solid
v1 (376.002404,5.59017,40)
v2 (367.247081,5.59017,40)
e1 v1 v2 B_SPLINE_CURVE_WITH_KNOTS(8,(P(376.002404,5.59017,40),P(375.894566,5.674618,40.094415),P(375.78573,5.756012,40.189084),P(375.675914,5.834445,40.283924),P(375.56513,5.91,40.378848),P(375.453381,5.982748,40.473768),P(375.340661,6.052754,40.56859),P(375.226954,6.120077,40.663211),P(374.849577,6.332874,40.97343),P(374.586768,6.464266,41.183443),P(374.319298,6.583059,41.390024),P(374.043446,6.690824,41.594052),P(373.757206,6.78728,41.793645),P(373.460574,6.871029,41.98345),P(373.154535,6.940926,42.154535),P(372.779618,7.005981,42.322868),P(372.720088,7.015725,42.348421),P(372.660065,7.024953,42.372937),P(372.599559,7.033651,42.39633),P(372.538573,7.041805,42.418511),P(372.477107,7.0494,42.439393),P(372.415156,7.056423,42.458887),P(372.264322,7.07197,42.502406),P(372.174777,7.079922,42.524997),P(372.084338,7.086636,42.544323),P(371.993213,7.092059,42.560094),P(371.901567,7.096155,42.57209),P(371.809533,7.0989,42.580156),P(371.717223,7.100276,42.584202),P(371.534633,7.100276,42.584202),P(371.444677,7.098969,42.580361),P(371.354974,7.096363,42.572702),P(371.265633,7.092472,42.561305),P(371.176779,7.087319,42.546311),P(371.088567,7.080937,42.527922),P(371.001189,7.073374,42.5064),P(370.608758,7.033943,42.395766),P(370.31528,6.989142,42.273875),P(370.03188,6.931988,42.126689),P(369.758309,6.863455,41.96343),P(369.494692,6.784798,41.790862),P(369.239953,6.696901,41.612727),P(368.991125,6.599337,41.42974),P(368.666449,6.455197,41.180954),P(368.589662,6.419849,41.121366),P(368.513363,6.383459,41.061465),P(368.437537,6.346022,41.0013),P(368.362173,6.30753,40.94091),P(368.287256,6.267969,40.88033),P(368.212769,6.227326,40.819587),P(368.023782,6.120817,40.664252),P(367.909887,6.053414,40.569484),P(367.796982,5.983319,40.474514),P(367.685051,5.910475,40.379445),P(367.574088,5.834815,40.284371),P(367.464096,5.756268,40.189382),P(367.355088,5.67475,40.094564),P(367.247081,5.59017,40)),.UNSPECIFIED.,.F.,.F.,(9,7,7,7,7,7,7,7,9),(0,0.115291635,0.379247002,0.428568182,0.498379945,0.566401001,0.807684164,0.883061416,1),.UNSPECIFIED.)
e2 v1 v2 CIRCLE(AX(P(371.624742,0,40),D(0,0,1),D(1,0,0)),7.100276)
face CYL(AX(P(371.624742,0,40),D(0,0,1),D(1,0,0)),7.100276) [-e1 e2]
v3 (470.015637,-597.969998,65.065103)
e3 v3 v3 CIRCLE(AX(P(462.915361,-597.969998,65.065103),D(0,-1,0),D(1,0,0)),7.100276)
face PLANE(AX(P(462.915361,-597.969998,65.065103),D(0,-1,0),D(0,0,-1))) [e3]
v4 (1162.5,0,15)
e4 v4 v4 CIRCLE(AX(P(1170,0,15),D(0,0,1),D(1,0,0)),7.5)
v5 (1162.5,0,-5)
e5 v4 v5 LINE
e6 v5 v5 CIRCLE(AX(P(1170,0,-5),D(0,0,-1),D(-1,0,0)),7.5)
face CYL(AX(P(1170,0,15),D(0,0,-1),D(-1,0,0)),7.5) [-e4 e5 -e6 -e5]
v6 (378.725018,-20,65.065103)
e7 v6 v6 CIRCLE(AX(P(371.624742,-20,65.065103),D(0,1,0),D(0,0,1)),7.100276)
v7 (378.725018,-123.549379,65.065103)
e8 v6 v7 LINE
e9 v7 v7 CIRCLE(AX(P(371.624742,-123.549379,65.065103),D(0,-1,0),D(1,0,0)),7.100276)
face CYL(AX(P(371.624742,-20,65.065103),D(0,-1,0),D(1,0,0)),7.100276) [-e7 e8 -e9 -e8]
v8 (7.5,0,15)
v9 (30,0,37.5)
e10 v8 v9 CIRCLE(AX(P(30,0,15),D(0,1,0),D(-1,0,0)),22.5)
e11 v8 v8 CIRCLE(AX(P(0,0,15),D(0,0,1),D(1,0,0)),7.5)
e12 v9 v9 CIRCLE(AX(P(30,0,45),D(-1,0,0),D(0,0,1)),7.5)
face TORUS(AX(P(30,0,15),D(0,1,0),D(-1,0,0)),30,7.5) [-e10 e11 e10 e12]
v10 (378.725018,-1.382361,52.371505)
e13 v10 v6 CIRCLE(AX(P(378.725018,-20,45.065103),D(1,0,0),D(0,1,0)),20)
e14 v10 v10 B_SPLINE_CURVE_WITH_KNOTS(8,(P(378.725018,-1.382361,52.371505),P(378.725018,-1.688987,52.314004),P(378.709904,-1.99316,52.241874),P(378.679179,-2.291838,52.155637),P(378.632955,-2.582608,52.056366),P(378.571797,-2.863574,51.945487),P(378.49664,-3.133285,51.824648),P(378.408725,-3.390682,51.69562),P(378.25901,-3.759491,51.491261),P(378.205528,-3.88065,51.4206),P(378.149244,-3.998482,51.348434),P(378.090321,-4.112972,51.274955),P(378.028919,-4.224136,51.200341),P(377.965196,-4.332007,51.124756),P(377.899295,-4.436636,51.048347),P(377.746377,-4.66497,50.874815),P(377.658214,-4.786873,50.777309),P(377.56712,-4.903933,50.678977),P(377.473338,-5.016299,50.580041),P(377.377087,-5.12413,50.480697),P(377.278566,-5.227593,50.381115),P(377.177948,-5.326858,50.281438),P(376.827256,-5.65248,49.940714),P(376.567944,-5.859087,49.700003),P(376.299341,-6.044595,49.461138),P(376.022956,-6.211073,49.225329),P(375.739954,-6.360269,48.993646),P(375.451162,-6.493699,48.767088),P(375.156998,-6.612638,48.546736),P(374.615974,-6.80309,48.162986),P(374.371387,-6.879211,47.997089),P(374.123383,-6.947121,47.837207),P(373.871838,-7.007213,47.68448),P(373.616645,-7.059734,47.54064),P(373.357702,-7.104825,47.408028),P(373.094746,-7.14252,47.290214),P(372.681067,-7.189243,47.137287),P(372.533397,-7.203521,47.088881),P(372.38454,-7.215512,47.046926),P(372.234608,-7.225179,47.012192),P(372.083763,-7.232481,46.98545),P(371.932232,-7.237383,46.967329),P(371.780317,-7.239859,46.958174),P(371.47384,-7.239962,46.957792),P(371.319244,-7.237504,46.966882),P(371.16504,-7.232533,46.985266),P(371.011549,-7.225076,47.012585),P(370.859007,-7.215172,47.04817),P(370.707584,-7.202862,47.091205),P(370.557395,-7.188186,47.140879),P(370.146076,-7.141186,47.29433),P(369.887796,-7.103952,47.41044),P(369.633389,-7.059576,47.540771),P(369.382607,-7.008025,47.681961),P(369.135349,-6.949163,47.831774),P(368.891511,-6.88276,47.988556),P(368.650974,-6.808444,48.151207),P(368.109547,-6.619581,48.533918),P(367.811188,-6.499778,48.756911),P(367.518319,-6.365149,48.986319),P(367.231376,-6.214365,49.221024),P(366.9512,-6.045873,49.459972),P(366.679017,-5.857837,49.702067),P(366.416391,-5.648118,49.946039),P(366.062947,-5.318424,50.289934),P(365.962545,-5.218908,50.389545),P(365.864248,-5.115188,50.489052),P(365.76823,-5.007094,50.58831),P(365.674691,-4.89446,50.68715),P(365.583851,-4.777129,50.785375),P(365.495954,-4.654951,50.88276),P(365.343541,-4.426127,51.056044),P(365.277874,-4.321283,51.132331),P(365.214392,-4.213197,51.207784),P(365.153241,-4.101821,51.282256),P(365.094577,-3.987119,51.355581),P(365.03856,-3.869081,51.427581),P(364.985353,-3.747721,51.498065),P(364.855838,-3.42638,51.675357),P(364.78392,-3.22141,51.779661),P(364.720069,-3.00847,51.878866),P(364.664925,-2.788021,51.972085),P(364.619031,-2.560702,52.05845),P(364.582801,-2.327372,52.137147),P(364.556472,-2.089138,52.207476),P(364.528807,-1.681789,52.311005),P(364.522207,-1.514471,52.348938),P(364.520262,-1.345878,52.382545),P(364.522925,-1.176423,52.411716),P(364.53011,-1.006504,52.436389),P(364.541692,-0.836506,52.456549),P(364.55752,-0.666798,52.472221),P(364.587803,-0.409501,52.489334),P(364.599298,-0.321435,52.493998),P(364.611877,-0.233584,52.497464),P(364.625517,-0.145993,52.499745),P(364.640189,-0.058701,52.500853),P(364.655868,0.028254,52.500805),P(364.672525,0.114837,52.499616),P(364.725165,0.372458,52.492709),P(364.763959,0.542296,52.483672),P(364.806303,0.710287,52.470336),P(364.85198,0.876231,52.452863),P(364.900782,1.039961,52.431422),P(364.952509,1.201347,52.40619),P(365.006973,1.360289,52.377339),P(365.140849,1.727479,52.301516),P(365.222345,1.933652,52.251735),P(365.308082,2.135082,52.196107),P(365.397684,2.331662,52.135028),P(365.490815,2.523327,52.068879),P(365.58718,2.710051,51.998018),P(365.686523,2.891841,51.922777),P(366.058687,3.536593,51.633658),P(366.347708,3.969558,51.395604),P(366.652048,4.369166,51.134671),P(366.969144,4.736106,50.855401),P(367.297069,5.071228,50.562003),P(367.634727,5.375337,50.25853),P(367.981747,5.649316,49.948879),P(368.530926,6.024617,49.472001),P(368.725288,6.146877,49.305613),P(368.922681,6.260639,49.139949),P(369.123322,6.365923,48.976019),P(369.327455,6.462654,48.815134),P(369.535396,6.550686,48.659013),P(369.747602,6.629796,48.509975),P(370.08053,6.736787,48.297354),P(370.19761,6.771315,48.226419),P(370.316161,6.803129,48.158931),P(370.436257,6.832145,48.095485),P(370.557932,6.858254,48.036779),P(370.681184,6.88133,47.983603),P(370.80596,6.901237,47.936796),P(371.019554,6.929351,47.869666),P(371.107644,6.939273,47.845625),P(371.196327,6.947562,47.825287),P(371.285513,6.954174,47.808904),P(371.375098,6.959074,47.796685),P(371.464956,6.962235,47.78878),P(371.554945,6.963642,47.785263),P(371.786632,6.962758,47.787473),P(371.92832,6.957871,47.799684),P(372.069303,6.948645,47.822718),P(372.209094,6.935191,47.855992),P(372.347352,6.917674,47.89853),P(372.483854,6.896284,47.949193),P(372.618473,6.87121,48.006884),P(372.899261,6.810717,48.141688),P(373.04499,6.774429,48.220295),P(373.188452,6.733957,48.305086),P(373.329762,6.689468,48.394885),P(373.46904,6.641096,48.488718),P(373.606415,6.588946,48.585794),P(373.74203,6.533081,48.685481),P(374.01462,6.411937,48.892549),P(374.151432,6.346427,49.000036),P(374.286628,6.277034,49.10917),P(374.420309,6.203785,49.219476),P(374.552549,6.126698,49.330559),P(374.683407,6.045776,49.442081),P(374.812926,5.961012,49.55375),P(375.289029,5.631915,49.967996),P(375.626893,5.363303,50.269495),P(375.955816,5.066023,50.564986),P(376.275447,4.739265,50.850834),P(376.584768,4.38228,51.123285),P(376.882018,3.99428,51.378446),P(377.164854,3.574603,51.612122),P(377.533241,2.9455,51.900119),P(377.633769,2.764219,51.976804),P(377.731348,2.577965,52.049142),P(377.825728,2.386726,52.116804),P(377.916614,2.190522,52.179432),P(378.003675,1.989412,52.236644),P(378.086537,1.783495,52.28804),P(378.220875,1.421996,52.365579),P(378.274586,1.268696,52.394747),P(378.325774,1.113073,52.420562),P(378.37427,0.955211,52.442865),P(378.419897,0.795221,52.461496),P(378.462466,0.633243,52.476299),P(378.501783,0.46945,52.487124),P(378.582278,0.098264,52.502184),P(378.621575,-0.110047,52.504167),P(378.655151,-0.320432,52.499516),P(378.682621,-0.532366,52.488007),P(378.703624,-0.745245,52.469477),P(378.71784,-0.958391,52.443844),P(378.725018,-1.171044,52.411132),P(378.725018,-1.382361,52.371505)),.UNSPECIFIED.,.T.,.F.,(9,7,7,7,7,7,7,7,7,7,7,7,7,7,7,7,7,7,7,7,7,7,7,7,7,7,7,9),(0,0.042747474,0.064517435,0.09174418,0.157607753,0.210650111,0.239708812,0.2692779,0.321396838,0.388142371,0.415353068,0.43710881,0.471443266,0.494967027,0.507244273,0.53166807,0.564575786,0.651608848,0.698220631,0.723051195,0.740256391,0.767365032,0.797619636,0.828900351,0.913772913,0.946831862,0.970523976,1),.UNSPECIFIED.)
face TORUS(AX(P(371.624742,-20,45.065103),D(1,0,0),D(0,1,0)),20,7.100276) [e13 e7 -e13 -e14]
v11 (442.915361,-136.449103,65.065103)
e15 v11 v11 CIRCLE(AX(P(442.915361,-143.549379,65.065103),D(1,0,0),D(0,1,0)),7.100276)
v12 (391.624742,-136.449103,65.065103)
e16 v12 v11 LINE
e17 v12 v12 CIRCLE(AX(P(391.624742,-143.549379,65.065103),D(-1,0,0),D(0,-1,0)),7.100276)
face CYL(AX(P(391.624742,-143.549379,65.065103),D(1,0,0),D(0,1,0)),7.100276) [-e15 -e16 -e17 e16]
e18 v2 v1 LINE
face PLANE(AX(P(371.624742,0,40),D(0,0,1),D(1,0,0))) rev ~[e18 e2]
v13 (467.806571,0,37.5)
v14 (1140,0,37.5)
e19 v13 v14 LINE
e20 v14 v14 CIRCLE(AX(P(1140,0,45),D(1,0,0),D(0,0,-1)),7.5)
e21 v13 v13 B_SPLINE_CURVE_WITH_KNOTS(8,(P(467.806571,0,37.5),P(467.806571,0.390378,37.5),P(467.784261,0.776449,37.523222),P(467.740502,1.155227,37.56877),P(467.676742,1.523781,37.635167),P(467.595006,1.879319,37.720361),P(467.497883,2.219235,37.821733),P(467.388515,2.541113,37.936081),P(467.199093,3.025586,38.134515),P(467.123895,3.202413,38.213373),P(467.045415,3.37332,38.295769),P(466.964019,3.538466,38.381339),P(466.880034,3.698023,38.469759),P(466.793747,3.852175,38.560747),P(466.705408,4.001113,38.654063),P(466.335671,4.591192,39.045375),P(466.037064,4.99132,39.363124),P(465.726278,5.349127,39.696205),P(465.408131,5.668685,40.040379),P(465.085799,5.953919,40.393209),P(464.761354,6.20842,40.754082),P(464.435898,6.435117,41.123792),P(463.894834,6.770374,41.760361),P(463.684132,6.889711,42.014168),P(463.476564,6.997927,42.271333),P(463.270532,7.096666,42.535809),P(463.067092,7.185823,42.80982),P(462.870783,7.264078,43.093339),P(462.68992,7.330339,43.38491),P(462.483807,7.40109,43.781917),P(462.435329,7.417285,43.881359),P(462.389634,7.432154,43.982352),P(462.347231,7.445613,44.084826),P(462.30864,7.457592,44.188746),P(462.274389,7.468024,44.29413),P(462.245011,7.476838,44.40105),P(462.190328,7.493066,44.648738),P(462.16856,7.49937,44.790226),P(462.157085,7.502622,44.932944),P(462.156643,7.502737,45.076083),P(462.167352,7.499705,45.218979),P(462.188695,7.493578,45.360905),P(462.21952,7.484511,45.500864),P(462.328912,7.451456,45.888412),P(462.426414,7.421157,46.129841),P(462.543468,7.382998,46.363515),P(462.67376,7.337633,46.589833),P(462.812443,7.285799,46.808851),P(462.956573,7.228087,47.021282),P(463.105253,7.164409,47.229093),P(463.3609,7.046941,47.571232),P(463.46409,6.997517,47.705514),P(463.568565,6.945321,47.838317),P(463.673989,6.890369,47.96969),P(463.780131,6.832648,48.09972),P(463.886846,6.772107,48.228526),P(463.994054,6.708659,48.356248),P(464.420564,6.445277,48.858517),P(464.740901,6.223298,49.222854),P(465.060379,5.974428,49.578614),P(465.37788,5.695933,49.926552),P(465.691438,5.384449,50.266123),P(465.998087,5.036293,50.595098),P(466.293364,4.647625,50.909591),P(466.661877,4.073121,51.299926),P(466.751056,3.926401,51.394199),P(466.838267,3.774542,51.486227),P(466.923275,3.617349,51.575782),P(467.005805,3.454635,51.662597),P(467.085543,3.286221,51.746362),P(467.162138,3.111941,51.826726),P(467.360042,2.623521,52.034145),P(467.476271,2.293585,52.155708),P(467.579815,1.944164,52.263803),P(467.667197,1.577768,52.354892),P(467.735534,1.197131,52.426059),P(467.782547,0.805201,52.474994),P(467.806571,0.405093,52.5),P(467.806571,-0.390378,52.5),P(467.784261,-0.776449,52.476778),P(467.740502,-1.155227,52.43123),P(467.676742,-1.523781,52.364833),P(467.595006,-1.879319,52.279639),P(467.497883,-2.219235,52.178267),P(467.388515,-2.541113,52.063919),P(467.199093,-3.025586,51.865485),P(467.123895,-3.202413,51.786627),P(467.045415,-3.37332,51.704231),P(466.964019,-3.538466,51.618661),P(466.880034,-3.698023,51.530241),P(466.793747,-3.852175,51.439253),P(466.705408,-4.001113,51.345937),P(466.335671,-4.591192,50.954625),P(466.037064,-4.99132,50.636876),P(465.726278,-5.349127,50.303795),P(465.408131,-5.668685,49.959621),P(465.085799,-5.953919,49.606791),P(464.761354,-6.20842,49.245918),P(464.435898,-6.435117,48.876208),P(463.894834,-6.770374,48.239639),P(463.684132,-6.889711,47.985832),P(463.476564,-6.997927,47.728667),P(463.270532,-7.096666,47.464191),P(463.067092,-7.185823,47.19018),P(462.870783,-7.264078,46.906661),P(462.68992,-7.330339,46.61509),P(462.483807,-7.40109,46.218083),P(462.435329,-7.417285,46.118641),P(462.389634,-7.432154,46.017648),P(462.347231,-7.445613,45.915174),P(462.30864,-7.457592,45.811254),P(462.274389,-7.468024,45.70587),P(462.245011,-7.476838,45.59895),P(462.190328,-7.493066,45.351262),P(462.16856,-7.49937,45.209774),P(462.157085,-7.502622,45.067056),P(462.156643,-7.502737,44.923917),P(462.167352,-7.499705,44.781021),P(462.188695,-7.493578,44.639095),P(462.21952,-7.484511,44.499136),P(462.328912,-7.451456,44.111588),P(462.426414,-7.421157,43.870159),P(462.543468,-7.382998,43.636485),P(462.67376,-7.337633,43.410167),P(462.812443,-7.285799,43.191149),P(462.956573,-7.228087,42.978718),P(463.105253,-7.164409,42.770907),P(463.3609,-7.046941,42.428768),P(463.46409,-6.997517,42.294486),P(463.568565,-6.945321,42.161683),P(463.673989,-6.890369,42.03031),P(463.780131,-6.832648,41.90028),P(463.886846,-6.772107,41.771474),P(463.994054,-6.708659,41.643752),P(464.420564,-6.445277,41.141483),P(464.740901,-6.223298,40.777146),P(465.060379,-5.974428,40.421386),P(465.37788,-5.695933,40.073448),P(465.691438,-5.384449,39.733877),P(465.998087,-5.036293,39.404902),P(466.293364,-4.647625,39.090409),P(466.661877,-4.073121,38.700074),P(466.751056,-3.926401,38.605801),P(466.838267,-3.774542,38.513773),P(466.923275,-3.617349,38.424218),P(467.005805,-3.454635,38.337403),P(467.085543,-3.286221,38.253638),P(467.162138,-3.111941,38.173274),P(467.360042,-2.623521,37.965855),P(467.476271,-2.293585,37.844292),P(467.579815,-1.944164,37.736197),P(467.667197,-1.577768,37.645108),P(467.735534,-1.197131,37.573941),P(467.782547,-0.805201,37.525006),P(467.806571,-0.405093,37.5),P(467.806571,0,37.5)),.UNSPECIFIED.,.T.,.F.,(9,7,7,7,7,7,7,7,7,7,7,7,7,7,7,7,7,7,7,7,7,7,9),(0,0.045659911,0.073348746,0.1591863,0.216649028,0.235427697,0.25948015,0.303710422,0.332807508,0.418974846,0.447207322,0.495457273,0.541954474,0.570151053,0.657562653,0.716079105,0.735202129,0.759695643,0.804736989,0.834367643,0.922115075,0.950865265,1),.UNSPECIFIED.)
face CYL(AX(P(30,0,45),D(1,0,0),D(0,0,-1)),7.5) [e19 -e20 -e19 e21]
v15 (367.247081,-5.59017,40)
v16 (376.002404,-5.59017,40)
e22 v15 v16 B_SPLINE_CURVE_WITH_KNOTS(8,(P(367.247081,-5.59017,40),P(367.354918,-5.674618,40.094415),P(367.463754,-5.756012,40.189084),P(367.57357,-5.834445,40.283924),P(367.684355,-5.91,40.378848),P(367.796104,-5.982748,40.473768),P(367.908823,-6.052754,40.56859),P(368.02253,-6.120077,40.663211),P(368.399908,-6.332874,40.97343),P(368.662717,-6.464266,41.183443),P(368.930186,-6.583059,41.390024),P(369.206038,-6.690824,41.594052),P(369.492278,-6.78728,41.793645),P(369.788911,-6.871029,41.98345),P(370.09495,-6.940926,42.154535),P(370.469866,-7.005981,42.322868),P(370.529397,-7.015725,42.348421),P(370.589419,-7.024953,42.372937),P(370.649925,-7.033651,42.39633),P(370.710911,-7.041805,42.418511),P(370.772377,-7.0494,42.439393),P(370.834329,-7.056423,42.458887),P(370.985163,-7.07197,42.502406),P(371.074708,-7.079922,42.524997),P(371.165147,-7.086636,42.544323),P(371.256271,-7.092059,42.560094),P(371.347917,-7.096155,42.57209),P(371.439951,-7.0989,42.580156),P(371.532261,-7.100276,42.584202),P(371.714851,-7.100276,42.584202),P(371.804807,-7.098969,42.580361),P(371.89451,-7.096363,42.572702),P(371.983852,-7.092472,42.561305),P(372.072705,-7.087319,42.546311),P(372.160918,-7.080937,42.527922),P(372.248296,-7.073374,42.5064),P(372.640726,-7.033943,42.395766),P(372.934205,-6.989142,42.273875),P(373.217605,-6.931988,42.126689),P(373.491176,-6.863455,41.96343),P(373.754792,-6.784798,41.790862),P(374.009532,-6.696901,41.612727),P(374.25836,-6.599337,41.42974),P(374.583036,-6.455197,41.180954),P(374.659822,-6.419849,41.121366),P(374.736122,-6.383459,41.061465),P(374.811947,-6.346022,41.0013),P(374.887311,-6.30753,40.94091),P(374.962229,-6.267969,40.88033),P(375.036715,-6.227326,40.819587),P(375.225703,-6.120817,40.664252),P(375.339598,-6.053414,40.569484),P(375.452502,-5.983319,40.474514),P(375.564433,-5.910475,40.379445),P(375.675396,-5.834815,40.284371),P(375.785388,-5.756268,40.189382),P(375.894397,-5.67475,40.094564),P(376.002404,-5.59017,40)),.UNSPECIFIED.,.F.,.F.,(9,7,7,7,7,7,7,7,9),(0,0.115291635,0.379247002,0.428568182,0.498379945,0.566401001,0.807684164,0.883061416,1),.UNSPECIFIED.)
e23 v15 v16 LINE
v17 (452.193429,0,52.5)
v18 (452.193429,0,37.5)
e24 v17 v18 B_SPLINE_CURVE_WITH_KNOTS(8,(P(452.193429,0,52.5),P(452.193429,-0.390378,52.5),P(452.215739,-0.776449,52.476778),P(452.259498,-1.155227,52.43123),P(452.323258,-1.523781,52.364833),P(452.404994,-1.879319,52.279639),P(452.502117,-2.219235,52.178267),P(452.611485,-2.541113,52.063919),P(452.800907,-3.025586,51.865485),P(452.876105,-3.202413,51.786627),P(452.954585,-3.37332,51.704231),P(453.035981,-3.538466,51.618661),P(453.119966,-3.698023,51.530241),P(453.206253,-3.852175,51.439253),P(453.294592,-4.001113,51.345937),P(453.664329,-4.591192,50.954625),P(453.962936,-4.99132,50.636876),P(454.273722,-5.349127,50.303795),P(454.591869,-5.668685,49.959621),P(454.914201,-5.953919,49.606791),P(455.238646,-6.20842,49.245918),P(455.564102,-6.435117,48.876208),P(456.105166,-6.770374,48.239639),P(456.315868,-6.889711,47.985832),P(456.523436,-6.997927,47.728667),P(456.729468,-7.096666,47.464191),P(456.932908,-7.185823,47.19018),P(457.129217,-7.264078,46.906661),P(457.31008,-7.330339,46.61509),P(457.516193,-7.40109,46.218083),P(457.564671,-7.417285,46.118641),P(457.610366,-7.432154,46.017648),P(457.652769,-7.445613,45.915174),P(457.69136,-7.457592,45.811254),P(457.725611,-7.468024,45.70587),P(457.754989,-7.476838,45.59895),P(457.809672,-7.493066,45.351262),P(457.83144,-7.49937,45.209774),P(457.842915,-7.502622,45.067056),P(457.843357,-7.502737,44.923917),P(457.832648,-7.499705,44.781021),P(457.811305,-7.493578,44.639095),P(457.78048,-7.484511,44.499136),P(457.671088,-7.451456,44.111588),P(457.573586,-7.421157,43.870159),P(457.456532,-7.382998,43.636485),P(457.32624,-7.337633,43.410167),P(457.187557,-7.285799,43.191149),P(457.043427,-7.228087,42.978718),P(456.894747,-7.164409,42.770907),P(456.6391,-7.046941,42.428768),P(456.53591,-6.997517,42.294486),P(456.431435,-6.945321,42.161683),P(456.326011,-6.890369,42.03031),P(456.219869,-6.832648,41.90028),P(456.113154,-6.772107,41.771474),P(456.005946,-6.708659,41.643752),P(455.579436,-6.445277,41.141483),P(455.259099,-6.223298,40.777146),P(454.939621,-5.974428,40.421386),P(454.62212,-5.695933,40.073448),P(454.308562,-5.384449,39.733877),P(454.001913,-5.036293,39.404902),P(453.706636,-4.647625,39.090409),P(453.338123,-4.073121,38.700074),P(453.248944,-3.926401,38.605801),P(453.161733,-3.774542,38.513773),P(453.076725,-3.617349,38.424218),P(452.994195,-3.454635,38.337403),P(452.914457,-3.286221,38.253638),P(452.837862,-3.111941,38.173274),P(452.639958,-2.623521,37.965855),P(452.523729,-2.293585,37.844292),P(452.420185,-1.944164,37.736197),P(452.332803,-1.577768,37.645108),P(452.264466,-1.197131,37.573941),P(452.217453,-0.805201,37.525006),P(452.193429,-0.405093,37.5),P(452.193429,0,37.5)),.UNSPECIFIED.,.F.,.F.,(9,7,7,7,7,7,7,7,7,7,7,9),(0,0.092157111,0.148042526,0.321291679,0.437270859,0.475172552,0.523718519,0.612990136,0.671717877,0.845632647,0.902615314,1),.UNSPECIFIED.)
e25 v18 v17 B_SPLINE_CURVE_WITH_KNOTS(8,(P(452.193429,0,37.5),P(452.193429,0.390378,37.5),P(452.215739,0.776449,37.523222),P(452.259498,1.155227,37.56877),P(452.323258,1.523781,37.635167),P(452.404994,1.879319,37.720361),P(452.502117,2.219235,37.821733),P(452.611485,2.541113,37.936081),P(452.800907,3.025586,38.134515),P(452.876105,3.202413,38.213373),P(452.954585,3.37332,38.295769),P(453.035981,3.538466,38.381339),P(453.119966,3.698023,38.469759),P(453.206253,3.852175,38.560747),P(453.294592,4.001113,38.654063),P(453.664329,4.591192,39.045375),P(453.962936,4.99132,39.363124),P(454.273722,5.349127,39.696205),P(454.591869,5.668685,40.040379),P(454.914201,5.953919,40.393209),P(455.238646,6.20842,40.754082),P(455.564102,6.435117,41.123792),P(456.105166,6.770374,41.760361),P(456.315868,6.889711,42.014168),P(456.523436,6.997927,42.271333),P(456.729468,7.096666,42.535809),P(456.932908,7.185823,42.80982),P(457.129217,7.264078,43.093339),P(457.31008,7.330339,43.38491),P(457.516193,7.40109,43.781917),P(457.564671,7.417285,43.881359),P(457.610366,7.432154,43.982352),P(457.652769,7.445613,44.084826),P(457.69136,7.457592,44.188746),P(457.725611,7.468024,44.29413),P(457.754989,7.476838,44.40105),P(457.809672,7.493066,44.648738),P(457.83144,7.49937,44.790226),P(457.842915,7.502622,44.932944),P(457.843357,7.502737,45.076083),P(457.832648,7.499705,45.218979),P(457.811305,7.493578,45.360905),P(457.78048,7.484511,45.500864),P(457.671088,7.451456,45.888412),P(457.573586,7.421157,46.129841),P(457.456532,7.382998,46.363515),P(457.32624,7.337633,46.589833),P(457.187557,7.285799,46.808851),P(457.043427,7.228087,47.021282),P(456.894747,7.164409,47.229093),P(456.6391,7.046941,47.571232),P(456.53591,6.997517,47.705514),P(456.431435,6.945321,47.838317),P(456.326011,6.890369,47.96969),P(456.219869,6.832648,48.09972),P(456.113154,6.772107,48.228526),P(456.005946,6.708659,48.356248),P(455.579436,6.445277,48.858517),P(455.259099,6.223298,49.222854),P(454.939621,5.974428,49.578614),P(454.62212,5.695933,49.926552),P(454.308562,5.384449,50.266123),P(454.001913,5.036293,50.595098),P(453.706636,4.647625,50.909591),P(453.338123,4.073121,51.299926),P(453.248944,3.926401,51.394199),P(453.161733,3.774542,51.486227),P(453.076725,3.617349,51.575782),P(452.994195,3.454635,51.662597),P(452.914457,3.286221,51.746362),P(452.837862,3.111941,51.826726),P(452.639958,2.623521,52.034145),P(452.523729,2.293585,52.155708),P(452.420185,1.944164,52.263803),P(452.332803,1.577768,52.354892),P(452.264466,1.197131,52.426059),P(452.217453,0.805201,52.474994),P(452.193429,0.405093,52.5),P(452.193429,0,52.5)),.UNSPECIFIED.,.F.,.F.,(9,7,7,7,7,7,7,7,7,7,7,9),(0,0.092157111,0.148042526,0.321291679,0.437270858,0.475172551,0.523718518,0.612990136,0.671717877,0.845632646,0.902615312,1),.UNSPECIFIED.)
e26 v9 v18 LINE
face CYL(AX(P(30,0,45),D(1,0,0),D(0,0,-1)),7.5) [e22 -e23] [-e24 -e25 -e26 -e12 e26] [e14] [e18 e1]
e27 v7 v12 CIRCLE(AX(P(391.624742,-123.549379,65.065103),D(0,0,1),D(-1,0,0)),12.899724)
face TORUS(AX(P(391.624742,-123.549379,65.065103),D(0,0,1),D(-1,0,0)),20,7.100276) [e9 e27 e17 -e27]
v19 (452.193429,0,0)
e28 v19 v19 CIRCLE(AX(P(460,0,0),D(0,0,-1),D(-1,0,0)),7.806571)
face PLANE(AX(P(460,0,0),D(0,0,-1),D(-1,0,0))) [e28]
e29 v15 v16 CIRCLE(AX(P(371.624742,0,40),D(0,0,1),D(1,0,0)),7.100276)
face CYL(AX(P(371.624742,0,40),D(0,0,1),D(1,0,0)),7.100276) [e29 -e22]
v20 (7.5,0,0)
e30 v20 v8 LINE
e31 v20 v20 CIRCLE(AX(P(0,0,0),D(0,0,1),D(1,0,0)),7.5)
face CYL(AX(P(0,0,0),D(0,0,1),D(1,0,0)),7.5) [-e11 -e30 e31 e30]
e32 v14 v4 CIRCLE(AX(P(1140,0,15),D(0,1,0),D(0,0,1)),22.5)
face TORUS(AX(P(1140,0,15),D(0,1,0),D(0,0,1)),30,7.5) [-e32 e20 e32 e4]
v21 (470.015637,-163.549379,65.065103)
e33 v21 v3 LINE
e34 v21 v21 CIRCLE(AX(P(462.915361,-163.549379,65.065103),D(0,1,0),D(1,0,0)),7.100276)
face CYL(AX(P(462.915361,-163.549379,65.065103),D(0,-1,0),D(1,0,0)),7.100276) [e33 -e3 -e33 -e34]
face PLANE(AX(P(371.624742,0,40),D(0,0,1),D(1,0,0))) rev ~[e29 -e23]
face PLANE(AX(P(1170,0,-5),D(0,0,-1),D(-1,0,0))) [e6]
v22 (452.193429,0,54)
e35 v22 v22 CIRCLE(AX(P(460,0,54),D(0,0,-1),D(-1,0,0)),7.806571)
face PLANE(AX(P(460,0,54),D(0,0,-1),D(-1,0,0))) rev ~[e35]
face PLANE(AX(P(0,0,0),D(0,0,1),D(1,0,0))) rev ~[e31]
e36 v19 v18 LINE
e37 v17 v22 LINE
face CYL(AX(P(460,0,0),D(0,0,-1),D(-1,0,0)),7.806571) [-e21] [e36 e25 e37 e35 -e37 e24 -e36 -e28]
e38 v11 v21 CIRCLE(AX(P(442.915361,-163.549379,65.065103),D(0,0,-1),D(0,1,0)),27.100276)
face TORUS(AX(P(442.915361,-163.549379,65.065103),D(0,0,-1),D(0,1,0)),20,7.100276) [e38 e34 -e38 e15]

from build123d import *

# Parameters (mm, degrees)
BARRER1_PROFILE_R       = 7.5
CROQUIS22_R             = 7.806571202
SALIENTE_EXTRUIR1_DEPTH = 54
CROQUIS27_R             = 7.100276195


with BuildPart() as part:
    # Barrer1: sweep along a curve in space
    with BuildLine() as barrer1_path:
        Line((0, 0, 0), (0, 0, 15))
        ThreePointArc((0, 0, 15), (8.786796564, 0, 36.213203436), (30, 0, 45))
        Line((30, 0, 45), (1140, 0, 45))
        ThreePointArc((1140, 0, 45), (1161.213203436, 0, 36.213203436), (1170, 0, 15))
        Line((1170, 0, 15), (1170, 0, -5))
    # Barrer1 profile (on start of the path) → Barrer1 (sweep)
    with BuildSketch(Plane.XY):
        Circle(BARRER1_PROFILE_R)
    sweep(path=barrer1_path.line)

    # Croquis22 → Saliente-Extruir1 (add)
    with BuildSketch(Plane(origin=(0, 0, 0), x_dir=(-1, 0, 0), z_dir=(0, 0, -1))):
        with Locations((-460, 0)):
            Circle(CROQUIS22_R)
    extrude(amount=-SALIENTE_EXTRUIR1_DEPTH)

    # Barrer3: sweep along a curve in space
    with BuildLine() as barrer3_path:
        Line((371.624742297, 0, 40), (371.624742297, 0, 45.065102587))
        ThreePointArc((371.624742297, 0, 45.065102587), (371.624742297, -5.857864376, 59.207238211), (371.624742297, -20, 65.065102587))
        Line((371.624742297, -20, 65.065102587), (371.624742297, -123.549378699, 65.065102587))
        ThreePointArc((371.624742297, -123.549378699, 65.065102587), (377.482606674, -137.691514323, 65.065102587), (391.624742297, -143.549378699, 65.065102587))
        Line((391.624742297, -143.549378699, 65.065102587), (442.915360808, -143.549378699, 65.065102587))
        ThreePointArc((442.915360808, -143.549378699, 65.065102587), (457.057496431, -149.407243075, 65.065102587), (462.915360808, -163.549378699, 65.065102587))
        Line((462.915360808, -163.549378699, 65.065102587), (462.915360808, -597.969998302, 65.065102587))
    # Croquis27 → Barrer3 (sweep)
    with BuildSketch(Plane.XY.offset(40)):
        with Locations((371.624742297, 0)):
            Circle(CROQUIS27_R)
    sweep(path=barrer3_path.line)


solid = part.part
